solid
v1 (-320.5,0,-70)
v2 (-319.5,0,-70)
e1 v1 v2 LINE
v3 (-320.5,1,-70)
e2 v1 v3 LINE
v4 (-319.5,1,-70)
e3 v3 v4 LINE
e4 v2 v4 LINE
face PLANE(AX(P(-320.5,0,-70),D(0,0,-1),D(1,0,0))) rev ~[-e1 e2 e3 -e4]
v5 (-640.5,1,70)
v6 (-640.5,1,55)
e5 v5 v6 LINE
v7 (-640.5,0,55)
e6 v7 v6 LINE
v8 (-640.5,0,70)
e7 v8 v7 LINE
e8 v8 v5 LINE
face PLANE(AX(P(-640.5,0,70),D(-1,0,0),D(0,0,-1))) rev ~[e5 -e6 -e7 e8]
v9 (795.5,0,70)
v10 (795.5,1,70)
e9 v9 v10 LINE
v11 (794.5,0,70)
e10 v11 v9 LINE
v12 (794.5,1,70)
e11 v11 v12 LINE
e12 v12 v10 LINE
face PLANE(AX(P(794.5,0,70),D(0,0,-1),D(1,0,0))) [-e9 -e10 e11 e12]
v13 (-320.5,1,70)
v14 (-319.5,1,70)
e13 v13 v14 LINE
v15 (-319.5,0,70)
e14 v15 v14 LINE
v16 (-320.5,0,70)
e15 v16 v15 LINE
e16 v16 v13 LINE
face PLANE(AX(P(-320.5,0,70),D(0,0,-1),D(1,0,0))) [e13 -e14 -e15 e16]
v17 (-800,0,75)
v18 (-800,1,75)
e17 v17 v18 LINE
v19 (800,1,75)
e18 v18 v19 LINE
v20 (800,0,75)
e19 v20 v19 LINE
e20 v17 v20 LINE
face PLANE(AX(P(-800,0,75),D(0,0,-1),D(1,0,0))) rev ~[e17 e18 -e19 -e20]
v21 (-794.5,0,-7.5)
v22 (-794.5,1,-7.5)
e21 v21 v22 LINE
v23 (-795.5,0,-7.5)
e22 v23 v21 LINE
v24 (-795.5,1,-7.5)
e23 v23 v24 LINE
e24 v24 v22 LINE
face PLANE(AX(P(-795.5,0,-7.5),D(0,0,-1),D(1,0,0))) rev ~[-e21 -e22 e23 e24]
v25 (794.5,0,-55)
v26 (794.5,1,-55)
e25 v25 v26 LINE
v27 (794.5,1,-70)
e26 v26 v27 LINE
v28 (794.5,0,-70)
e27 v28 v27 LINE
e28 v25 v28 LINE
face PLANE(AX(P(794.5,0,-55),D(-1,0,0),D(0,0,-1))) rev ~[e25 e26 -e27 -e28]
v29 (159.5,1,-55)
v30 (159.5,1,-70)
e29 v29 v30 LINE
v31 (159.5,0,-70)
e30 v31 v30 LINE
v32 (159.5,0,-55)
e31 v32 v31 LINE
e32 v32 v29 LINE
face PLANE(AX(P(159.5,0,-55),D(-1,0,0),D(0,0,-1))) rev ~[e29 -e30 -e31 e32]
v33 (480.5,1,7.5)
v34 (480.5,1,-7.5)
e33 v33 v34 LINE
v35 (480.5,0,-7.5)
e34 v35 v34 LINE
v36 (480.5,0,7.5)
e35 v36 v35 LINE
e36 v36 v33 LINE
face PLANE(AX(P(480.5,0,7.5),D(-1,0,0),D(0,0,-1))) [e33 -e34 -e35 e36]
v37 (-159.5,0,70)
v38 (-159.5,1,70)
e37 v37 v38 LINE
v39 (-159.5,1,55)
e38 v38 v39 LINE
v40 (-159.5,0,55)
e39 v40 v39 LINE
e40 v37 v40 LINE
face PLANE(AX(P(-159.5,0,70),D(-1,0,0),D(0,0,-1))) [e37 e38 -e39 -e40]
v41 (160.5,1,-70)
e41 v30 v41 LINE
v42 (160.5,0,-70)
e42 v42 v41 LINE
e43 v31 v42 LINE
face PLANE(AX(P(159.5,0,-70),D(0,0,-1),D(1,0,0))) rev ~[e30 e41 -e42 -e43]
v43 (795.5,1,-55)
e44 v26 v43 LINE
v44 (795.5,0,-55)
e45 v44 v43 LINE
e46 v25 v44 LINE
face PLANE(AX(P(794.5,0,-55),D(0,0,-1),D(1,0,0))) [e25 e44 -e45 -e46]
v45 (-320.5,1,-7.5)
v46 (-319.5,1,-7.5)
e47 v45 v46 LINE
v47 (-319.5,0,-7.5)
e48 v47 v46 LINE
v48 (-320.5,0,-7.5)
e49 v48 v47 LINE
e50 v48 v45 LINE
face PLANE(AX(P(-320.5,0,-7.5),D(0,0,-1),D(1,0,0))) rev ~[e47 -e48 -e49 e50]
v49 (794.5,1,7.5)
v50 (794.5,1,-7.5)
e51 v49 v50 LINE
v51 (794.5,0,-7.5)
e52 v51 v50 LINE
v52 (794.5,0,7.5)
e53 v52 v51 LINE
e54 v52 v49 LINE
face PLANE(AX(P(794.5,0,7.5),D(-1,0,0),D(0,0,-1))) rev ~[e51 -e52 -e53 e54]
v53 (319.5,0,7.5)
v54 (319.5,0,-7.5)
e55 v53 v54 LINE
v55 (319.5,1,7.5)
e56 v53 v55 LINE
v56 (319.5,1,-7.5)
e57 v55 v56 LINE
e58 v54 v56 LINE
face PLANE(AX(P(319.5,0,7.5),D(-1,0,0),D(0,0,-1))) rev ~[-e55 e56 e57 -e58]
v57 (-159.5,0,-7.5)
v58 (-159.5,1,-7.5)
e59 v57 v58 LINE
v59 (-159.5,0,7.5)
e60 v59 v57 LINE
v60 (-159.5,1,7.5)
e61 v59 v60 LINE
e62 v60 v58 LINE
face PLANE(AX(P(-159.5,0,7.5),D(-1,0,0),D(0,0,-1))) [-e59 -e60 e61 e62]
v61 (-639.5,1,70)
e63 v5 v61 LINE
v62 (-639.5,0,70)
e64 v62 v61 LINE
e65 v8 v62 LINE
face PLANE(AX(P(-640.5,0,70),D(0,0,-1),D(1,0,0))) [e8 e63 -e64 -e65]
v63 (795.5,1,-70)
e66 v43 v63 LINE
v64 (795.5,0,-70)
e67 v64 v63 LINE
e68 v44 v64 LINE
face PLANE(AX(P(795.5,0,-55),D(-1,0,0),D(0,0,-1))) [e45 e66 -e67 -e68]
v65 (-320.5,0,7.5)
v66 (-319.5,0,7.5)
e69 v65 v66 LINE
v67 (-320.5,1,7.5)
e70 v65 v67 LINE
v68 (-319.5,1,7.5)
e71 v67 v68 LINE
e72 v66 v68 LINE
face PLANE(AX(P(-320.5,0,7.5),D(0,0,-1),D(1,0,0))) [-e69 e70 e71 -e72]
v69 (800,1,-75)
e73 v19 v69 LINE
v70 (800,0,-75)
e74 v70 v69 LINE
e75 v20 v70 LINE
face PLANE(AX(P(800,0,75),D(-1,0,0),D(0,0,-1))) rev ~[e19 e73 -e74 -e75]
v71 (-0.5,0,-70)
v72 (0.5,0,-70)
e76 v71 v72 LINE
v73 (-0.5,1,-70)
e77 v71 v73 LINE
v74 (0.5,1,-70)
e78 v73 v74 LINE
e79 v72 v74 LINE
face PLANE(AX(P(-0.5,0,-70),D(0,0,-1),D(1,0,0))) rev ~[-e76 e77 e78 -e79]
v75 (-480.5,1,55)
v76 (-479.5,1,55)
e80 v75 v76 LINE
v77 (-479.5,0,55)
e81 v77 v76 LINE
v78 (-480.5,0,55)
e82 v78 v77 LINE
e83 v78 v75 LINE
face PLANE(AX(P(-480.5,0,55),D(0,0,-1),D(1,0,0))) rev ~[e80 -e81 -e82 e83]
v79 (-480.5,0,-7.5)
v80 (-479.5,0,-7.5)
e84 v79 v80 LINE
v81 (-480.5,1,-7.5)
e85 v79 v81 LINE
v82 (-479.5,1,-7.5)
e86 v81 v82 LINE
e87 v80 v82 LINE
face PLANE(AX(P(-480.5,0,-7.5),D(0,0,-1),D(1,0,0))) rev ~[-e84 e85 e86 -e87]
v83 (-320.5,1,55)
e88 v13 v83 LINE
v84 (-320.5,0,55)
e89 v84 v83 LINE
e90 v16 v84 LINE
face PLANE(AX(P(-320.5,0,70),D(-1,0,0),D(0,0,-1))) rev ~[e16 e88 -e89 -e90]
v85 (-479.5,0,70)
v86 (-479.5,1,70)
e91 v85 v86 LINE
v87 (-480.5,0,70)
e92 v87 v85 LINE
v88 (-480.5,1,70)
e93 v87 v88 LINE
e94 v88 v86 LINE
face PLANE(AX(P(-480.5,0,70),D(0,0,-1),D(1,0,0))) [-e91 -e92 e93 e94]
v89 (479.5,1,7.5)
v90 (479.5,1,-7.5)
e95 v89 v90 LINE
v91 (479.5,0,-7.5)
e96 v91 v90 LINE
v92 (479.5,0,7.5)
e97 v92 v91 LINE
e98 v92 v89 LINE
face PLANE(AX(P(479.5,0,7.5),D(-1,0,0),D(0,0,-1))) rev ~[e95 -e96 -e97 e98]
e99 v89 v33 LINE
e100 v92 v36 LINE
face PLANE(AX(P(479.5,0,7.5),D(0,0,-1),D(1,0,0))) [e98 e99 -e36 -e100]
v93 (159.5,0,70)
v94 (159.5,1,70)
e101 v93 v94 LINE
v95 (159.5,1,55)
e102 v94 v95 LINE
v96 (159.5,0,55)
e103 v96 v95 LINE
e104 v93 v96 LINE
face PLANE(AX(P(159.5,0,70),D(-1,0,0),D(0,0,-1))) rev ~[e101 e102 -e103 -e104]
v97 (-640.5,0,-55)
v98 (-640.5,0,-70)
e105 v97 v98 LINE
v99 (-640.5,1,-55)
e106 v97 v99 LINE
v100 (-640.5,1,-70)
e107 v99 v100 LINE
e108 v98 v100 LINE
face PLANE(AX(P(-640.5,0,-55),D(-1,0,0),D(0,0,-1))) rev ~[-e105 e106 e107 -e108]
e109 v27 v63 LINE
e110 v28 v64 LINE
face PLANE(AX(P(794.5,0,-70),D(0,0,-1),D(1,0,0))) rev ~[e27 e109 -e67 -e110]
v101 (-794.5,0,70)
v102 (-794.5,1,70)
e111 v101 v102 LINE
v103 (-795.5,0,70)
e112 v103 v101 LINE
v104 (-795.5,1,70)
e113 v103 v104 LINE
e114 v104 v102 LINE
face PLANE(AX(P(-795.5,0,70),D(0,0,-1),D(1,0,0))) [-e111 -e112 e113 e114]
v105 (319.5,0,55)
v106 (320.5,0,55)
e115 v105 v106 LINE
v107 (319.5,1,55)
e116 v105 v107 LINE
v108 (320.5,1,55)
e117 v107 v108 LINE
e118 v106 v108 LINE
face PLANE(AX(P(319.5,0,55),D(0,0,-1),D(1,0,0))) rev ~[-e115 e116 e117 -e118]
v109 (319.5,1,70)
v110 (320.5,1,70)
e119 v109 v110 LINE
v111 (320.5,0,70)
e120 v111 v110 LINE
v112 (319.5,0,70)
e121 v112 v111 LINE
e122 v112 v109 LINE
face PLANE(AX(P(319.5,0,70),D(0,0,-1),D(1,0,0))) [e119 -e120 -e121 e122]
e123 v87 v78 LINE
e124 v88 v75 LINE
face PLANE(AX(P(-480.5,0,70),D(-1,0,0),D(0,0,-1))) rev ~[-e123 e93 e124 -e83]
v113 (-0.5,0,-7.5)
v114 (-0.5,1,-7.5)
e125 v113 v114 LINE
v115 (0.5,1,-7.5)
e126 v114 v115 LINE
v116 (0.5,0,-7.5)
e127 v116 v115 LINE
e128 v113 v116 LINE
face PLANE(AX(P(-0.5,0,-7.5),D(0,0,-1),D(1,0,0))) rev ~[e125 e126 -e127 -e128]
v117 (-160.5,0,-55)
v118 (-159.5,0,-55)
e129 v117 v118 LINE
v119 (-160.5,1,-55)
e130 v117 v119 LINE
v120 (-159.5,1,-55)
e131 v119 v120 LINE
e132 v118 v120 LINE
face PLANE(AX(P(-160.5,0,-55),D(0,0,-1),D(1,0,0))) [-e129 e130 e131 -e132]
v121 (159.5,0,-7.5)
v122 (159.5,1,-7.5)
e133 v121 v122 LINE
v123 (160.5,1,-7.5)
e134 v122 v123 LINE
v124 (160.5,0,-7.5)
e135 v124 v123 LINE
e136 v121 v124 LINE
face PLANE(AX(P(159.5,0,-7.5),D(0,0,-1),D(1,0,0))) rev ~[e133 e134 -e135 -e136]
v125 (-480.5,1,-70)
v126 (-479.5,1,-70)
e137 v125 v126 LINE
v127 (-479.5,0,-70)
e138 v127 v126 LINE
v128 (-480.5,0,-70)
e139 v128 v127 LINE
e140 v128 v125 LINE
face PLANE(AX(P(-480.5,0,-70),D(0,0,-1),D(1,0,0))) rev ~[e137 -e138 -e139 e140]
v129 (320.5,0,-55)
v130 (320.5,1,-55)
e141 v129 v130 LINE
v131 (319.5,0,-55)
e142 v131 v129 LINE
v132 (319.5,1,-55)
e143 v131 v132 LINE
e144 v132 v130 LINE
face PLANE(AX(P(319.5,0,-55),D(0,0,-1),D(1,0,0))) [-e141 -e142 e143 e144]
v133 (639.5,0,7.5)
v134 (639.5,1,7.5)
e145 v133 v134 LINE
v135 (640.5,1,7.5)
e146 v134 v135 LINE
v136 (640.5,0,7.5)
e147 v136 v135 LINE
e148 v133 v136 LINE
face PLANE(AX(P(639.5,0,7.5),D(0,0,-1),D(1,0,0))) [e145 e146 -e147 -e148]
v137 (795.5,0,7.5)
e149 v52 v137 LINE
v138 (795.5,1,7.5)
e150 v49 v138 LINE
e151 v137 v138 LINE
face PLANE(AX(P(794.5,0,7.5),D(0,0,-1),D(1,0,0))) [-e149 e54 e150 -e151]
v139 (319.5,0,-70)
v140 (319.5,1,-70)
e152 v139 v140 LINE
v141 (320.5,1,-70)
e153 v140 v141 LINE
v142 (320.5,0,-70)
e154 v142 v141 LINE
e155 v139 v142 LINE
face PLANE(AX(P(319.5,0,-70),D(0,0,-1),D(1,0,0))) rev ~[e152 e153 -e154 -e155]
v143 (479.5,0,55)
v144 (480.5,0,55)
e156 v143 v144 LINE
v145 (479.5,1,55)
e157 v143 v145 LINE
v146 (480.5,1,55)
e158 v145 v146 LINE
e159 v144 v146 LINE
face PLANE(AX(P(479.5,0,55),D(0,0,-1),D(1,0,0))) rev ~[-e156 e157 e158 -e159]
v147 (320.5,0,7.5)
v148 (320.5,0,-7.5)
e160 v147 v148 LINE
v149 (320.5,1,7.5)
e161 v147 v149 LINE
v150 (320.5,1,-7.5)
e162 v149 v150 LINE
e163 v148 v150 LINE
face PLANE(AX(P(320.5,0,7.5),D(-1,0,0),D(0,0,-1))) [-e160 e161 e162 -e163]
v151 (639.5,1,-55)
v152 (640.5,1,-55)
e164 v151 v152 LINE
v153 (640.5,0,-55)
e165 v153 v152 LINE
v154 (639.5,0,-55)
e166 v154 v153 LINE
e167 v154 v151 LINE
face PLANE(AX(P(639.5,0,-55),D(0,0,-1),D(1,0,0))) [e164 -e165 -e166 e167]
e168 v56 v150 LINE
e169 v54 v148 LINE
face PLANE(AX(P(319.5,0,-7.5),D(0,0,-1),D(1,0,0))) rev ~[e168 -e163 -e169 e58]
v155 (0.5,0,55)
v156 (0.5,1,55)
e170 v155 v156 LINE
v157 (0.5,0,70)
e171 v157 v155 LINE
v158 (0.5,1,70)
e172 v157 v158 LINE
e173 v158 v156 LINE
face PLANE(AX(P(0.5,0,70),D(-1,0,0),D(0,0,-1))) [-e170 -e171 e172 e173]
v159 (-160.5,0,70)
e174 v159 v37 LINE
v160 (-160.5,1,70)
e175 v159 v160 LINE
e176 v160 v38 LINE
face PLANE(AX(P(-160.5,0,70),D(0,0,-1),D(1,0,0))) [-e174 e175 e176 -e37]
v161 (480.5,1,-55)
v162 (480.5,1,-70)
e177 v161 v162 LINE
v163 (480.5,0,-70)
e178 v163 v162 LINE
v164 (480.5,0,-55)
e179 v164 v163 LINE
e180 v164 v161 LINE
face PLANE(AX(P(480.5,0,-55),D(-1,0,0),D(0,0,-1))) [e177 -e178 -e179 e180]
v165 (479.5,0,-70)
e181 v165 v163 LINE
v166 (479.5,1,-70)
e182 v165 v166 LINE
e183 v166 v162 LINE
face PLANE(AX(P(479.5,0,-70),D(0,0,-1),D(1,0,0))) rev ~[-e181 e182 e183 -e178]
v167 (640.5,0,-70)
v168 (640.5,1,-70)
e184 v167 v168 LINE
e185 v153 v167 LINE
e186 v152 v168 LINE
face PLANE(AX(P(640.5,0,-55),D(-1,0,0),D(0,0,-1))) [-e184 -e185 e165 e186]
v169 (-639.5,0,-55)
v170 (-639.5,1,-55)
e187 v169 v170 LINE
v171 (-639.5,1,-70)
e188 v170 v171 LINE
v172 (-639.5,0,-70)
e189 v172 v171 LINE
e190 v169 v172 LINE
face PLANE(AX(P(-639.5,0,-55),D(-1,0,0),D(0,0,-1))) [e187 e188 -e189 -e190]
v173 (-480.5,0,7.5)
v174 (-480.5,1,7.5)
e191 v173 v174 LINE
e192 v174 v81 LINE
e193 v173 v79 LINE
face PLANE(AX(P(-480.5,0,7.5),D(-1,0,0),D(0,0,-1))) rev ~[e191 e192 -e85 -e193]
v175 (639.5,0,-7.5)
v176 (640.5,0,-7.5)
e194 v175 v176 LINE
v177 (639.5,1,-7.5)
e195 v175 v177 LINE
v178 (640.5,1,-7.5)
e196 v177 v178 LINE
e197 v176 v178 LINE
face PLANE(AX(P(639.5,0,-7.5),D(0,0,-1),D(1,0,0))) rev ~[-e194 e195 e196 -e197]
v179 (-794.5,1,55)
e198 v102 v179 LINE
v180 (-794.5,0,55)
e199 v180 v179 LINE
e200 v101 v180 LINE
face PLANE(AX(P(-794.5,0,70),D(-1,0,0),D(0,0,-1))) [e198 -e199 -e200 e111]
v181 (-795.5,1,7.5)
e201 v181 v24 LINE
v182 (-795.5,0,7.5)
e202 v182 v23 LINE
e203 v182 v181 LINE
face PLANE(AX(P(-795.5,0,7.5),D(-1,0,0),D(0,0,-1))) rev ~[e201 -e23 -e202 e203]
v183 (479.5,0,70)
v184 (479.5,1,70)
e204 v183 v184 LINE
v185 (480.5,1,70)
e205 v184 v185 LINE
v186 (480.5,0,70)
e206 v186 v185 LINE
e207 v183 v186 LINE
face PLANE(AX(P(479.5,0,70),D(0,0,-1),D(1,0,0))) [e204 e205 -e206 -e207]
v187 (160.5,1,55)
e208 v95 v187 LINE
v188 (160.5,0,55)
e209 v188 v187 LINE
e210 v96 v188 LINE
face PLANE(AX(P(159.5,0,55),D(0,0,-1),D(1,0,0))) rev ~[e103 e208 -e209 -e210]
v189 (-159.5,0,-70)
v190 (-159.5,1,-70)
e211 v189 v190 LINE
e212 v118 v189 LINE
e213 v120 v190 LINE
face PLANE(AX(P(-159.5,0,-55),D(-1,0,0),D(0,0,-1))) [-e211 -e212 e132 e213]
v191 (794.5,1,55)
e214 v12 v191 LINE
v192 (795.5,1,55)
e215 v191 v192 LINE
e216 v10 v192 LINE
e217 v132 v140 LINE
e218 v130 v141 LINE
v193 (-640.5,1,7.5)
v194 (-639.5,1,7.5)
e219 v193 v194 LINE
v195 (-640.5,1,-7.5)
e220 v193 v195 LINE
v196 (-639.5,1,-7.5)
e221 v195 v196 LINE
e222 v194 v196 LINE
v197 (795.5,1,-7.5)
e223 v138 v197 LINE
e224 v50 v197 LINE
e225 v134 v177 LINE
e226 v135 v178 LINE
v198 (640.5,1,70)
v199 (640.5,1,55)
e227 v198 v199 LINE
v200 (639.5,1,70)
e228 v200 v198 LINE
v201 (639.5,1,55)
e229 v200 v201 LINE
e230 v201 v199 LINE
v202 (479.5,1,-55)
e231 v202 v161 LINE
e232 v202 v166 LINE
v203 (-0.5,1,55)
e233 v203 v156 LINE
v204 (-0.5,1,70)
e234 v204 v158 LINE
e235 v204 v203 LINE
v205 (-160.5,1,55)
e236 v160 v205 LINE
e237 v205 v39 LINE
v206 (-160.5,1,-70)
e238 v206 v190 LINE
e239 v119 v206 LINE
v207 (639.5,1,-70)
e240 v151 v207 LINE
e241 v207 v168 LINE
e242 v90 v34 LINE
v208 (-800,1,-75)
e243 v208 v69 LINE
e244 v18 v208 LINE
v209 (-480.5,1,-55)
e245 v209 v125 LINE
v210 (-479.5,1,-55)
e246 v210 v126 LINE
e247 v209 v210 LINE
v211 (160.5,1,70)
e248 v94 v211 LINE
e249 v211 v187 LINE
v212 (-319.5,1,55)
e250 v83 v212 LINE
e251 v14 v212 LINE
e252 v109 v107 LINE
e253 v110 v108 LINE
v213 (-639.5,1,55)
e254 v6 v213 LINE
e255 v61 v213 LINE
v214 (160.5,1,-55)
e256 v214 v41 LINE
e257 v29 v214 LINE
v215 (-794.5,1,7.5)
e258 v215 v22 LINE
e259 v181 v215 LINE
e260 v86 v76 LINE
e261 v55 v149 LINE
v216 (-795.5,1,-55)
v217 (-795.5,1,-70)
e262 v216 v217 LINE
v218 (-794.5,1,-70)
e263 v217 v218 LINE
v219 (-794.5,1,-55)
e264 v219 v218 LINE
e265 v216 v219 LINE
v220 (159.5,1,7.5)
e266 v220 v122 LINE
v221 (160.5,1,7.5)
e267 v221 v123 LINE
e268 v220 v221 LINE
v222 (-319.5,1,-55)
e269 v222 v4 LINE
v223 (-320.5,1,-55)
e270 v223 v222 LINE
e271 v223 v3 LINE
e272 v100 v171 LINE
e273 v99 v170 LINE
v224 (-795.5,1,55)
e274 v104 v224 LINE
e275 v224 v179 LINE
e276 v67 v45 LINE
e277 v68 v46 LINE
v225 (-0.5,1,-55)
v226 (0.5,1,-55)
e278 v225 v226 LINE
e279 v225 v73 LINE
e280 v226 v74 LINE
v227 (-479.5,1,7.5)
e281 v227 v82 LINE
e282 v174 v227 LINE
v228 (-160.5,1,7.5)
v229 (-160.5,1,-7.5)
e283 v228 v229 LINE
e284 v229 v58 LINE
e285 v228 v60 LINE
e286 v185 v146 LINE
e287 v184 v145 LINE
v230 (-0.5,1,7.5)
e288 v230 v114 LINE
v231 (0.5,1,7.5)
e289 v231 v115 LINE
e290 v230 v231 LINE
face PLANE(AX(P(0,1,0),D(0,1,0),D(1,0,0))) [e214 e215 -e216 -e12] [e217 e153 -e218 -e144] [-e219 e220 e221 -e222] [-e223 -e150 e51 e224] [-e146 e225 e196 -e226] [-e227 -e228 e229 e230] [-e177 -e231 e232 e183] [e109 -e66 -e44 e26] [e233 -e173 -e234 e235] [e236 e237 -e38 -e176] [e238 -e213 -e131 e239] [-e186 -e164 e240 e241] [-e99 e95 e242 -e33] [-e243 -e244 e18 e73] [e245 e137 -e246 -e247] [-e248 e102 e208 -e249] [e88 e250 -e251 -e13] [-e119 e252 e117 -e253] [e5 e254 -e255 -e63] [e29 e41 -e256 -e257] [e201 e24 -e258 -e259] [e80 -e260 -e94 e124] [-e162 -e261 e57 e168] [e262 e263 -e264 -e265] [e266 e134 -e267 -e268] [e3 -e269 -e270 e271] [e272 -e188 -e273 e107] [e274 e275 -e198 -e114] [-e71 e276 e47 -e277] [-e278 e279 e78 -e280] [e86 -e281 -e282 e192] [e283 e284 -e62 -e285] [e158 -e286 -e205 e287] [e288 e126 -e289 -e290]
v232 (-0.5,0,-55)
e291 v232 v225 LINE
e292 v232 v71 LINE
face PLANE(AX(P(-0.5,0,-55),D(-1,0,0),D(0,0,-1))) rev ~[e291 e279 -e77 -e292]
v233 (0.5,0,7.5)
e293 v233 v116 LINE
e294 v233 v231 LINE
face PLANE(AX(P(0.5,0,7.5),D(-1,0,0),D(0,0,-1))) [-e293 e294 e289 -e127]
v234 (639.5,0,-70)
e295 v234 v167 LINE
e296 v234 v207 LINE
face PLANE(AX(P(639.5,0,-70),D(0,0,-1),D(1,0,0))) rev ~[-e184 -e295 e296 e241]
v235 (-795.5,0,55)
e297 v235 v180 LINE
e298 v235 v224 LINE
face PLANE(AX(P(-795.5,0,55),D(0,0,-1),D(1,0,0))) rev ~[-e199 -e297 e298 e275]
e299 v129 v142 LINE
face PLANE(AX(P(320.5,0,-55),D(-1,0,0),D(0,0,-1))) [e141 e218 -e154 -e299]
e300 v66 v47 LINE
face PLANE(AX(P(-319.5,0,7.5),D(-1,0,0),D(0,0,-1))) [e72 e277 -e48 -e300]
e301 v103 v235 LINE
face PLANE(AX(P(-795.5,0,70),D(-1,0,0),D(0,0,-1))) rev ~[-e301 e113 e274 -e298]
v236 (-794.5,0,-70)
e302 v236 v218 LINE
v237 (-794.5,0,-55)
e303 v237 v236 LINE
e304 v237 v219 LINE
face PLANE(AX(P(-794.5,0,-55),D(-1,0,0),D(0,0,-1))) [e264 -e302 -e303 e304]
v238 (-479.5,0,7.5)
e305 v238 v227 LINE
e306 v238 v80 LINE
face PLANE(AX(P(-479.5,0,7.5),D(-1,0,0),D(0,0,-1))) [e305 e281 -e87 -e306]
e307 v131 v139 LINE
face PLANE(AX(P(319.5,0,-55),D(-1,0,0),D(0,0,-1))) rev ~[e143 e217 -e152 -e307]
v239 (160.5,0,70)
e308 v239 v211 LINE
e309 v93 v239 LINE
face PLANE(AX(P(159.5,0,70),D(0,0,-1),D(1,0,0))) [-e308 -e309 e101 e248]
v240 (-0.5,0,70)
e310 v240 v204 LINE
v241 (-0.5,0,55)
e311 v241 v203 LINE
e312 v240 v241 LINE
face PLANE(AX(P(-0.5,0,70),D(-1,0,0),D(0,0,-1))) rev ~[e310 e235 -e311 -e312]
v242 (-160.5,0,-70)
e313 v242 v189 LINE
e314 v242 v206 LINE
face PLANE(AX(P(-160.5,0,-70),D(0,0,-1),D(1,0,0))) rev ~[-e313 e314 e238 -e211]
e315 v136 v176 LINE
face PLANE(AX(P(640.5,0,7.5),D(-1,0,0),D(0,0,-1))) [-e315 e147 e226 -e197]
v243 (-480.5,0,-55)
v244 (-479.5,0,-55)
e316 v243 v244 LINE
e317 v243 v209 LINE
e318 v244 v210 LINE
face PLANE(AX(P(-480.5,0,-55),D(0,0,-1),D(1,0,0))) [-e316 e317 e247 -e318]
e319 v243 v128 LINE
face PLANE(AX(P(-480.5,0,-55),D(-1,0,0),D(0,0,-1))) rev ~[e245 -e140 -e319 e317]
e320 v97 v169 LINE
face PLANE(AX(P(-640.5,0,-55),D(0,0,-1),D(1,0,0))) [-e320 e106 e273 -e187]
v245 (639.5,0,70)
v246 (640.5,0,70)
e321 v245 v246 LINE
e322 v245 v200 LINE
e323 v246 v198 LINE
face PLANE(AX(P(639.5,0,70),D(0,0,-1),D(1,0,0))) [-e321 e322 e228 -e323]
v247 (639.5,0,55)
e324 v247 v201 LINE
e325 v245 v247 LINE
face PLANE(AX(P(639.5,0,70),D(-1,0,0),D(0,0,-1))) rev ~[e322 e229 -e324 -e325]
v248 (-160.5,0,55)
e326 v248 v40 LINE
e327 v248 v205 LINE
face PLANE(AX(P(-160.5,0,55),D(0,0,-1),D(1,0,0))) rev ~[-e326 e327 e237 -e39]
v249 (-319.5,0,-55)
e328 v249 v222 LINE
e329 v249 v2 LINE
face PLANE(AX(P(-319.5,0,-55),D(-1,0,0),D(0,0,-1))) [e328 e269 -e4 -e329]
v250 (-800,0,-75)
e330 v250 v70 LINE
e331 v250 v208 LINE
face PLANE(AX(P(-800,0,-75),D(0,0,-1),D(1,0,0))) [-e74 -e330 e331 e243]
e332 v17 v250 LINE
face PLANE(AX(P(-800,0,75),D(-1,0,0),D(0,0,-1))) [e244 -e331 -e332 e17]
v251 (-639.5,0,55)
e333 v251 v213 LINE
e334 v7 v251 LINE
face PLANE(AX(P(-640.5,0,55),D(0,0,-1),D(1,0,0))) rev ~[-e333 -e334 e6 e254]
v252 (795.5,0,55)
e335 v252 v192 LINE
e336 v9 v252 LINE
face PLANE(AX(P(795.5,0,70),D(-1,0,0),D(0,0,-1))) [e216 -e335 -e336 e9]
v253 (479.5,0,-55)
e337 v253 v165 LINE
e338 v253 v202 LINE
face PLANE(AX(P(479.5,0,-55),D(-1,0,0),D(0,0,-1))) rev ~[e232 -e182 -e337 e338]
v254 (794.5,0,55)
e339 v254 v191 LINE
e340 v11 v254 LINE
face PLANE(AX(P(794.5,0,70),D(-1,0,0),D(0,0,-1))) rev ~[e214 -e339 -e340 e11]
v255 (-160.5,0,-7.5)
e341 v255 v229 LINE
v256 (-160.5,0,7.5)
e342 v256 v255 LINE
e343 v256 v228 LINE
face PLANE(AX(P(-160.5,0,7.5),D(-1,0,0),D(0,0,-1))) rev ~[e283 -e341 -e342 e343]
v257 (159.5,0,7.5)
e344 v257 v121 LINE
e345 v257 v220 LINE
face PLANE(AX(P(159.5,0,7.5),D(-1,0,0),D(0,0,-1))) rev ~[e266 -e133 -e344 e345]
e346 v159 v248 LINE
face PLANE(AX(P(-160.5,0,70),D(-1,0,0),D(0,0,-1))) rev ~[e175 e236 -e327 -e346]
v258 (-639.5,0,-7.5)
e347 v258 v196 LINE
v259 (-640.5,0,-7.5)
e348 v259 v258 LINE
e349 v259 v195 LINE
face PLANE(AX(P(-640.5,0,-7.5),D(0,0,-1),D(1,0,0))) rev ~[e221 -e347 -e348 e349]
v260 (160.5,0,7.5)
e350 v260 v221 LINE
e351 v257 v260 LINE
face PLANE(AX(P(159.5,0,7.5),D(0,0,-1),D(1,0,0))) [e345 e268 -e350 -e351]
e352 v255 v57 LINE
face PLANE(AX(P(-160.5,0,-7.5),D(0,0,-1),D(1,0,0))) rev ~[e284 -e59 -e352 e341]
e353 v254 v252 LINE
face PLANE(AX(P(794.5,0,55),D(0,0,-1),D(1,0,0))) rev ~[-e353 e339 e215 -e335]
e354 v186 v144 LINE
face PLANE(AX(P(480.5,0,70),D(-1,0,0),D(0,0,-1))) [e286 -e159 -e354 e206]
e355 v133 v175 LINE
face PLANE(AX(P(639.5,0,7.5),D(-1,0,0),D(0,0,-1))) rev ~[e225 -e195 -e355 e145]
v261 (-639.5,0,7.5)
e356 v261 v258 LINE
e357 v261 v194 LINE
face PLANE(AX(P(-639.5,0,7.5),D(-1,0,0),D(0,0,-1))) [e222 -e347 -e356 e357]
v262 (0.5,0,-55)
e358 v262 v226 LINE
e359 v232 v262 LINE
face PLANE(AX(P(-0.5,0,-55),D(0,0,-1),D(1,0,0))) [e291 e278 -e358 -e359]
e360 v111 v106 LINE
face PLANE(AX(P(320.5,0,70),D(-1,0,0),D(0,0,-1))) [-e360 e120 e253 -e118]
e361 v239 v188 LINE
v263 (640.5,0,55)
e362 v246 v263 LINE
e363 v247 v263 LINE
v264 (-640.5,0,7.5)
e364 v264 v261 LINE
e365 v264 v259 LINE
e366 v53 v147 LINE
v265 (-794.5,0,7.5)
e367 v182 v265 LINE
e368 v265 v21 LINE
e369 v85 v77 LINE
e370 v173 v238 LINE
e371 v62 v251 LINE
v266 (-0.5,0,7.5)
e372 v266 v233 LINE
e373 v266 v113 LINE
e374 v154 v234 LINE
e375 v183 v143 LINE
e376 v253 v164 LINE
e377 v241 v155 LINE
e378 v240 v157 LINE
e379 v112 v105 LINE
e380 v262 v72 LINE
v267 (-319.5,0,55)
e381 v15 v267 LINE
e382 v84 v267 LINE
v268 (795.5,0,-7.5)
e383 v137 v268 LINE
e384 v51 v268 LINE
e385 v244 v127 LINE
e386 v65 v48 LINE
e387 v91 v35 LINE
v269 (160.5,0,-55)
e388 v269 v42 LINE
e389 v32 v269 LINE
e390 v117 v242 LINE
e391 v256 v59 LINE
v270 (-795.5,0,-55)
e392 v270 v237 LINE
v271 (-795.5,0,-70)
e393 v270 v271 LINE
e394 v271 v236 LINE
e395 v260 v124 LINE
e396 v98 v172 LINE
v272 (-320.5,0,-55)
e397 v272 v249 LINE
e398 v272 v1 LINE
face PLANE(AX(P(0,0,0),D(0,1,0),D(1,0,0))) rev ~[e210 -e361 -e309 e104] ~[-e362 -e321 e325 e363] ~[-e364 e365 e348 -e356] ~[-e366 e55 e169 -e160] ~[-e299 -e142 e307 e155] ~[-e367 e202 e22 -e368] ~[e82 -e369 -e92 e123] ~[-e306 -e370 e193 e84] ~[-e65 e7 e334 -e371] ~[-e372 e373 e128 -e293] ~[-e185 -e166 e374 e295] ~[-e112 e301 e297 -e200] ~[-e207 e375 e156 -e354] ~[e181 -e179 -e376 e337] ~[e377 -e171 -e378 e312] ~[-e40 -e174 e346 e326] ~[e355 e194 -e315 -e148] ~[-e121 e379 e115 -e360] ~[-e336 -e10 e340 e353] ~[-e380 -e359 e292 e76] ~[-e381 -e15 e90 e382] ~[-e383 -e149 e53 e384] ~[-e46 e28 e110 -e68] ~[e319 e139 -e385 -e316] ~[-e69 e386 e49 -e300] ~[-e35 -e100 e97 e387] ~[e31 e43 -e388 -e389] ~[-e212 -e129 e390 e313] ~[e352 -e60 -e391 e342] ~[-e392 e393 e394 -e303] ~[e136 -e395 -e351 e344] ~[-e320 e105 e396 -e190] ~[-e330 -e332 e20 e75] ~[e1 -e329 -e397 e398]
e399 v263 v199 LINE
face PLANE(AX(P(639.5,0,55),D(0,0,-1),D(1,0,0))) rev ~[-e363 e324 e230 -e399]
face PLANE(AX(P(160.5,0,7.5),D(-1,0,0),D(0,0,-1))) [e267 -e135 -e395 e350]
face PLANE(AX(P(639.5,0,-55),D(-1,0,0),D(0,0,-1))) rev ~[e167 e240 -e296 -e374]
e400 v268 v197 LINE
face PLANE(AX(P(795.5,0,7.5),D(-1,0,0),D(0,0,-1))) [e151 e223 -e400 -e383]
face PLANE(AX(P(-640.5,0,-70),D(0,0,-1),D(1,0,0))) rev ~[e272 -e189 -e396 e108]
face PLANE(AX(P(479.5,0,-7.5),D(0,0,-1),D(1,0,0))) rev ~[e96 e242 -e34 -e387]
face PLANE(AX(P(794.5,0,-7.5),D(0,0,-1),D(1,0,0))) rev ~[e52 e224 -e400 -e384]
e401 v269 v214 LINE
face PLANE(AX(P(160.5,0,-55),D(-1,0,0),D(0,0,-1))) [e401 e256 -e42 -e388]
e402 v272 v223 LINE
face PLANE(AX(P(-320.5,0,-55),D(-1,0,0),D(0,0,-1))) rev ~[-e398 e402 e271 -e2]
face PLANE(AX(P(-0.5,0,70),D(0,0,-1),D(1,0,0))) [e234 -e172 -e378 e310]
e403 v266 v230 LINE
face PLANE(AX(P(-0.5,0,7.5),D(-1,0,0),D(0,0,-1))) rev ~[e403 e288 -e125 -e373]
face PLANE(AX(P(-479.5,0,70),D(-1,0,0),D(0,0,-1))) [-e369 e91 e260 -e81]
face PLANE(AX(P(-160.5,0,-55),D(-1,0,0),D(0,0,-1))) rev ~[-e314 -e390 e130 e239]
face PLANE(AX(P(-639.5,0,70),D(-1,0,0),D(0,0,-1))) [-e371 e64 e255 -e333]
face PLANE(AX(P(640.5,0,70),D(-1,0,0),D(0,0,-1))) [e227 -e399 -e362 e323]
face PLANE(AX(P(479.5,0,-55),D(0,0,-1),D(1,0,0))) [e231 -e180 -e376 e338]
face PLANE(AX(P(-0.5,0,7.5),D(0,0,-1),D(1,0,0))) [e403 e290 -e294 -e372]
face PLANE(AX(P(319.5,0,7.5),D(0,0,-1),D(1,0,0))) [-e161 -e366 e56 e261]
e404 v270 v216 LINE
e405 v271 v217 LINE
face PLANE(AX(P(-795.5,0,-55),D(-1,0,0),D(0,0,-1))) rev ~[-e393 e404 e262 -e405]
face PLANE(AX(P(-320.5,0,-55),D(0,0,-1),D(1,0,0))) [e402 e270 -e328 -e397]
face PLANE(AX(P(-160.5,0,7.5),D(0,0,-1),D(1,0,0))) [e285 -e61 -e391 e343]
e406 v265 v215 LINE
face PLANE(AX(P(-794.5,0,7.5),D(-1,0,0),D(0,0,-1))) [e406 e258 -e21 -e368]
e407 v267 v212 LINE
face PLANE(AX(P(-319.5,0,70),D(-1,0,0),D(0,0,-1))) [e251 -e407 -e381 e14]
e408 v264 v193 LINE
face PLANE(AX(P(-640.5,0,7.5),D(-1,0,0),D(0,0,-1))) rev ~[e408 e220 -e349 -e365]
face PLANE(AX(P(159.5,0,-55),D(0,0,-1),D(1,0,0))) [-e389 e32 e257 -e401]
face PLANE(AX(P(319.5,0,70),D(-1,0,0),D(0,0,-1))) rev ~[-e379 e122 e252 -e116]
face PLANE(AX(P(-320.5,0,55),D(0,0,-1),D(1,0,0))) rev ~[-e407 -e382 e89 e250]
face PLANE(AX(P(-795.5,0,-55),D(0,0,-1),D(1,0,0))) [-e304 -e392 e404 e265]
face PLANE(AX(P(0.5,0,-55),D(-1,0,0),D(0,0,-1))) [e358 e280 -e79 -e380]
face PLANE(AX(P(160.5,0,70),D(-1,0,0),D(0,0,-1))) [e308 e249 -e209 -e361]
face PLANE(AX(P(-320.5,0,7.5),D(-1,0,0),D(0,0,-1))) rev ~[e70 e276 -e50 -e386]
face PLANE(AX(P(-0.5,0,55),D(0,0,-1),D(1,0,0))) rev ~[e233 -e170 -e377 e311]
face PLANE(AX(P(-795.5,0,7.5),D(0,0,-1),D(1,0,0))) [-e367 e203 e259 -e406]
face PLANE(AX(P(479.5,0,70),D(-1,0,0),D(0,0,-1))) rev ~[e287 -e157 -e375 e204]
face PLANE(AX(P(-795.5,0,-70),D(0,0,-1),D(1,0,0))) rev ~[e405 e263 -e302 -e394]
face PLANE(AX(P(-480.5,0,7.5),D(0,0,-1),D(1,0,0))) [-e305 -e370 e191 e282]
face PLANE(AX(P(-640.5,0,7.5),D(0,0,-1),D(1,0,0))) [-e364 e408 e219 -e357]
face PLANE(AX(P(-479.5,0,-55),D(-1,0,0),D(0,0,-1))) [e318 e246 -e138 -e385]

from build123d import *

# Parameters (mm, degrees)
SKETCH1_W           = 1600
SKETCH1_H           = 150
SKETCH1_W_2         = 1
SKETCH1_H_2         = 15
BOSS_EXTRUDE1_DEPTH = 1


with BuildPart() as part:
    # Sketch1 → Boss-Extrude1 (new body)
    with BuildSketch(Plane(origin=(0, 0, 0), x_dir=(1, 0, 0), z_dir=(0, 1, 0))):
        Rectangle(SKETCH1_W, SKETCH1_H)
        with Locations((-795, 62.5)):
            Rectangle(SKETCH1_W_2, SKETCH1_H_2, mode=Mode.SUBTRACT)
        with Locations((-795, 0)):
            Rectangle(SKETCH1_W_2, SKETCH1_H_2, mode=Mode.SUBTRACT)
        with Locations((-795, -62.5)):
            Rectangle(SKETCH1_W_2, SKETCH1_H_2, mode=Mode.SUBTRACT)
        with Locations((0, 62.5)):
            Rectangle(SKETCH1_W_2, SKETCH1_H_2, mode=Mode.SUBTRACT)
        Rectangle(SKETCH1_W_2, SKETCH1_H_2, mode=Mode.SUBTRACT)
        with Locations((0, -62.5)):
            Rectangle(SKETCH1_W_2, SKETCH1_H_2, mode=Mode.SUBTRACT)
        with Locations((160, -62.5)):
            Rectangle(SKETCH1_W_2, SKETCH1_H_2, mode=Mode.SUBTRACT)
        with Locations((795, 62.5)):
            Rectangle(SKETCH1_W_2, SKETCH1_H_2, mode=Mode.SUBTRACT)
        with Locations((795, 0)):
            Rectangle(SKETCH1_W_2, SKETCH1_H_2, mode=Mode.SUBTRACT)
        with Locations((795, -62.5)):
            Rectangle(SKETCH1_W_2, SKETCH1_H_2, mode=Mode.SUBTRACT)
        with Locations((160, 0)):
            Rectangle(SKETCH1_W_2, SKETCH1_H_2, mode=Mode.SUBTRACT)
        with Locations((160, 62.5)):
            Rectangle(SKETCH1_W_2, SKETCH1_H_2, mode=Mode.SUBTRACT)
        with Locations((320, -62.5)):
            Rectangle(SKETCH1_W_2, SKETCH1_H_2, mode=Mode.SUBTRACT)
        with Locations((320, 0)):
            Rectangle(SKETCH1_W_2, SKETCH1_H_2, mode=Mode.SUBTRACT)
        with Locations((320, 62.5)):
            Rectangle(SKETCH1_W_2, SKETCH1_H_2, mode=Mode.SUBTRACT)
        with Locations((480, -62.5)):
            Rectangle(SKETCH1_W_2, SKETCH1_H_2, mode=Mode.SUBTRACT)
        with Locations((480, 0)):
            Rectangle(SKETCH1_W_2, SKETCH1_H_2, mode=Mode.SUBTRACT)
        with Locations((480, 62.5)):
            Rectangle(SKETCH1_W_2, SKETCH1_H_2, mode=Mode.SUBTRACT)
        with Locations((640, -62.5)):
            Rectangle(SKETCH1_W_2, SKETCH1_H_2, mode=Mode.SUBTRACT)
        with Locations((640, 0)):
            Rectangle(SKETCH1_W_2, SKETCH1_H_2, mode=Mode.SUBTRACT)
        with Locations((640, 62.5)):
            Rectangle(SKETCH1_W_2, SKETCH1_H_2, mode=Mode.SUBTRACT)
        with Locations((-160, -62.5)):
            Rectangle(SKETCH1_W_2, SKETCH1_H_2, mode=Mode.SUBTRACT)
        with Locations((-160, 0)):
            Rectangle(SKETCH1_W_2, SKETCH1_H_2, mode=Mode.SUBTRACT)
        with Locations((-160, 62.5)):
            Rectangle(SKETCH1_W_2, SKETCH1_H_2, mode=Mode.SUBTRACT)
        with Locations((-320, -62.5)):
            Rectangle(SKETCH1_W_2, SKETCH1_H_2, mode=Mode.SUBTRACT)
        with Locations((-320, 0)):
            Rectangle(SKETCH1_W_2, SKETCH1_H_2, mode=Mode.SUBTRACT)
        with Locations((-320, 62.5)):
            Rectangle(SKETCH1_W_2, SKETCH1_H_2, mode=Mode.SUBTRACT)
        with Locations((-480, -62.5)):
            Rectangle(SKETCH1_W_2, SKETCH1_H_2, mode=Mode.SUBTRACT)
        with Locations((-480, 0)):
            Rectangle(SKETCH1_W_2, SKETCH1_H_2, mode=Mode.SUBTRACT)
        with Locations((-480, 62.5)):
            Rectangle(SKETCH1_W_2, SKETCH1_H_2, mode=Mode.SUBTRACT)
        with Locations((-640, -62.5)):
            Rectangle(SKETCH1_W_2, SKETCH1_H_2, mode=Mode.SUBTRACT)
        with Locations((-640, 0)):
            Rectangle(SKETCH1_W_2, SKETCH1_H_2, mode=Mode.SUBTRACT)
        with Locations((-640, 62.5)):
            Rectangle(SKETCH1_W_2, SKETCH1_H_2, mode=Mode.SUBTRACT)
    extrude(amount=BOSS_EXTRUDE1_DEPTH)


solid = part.part
